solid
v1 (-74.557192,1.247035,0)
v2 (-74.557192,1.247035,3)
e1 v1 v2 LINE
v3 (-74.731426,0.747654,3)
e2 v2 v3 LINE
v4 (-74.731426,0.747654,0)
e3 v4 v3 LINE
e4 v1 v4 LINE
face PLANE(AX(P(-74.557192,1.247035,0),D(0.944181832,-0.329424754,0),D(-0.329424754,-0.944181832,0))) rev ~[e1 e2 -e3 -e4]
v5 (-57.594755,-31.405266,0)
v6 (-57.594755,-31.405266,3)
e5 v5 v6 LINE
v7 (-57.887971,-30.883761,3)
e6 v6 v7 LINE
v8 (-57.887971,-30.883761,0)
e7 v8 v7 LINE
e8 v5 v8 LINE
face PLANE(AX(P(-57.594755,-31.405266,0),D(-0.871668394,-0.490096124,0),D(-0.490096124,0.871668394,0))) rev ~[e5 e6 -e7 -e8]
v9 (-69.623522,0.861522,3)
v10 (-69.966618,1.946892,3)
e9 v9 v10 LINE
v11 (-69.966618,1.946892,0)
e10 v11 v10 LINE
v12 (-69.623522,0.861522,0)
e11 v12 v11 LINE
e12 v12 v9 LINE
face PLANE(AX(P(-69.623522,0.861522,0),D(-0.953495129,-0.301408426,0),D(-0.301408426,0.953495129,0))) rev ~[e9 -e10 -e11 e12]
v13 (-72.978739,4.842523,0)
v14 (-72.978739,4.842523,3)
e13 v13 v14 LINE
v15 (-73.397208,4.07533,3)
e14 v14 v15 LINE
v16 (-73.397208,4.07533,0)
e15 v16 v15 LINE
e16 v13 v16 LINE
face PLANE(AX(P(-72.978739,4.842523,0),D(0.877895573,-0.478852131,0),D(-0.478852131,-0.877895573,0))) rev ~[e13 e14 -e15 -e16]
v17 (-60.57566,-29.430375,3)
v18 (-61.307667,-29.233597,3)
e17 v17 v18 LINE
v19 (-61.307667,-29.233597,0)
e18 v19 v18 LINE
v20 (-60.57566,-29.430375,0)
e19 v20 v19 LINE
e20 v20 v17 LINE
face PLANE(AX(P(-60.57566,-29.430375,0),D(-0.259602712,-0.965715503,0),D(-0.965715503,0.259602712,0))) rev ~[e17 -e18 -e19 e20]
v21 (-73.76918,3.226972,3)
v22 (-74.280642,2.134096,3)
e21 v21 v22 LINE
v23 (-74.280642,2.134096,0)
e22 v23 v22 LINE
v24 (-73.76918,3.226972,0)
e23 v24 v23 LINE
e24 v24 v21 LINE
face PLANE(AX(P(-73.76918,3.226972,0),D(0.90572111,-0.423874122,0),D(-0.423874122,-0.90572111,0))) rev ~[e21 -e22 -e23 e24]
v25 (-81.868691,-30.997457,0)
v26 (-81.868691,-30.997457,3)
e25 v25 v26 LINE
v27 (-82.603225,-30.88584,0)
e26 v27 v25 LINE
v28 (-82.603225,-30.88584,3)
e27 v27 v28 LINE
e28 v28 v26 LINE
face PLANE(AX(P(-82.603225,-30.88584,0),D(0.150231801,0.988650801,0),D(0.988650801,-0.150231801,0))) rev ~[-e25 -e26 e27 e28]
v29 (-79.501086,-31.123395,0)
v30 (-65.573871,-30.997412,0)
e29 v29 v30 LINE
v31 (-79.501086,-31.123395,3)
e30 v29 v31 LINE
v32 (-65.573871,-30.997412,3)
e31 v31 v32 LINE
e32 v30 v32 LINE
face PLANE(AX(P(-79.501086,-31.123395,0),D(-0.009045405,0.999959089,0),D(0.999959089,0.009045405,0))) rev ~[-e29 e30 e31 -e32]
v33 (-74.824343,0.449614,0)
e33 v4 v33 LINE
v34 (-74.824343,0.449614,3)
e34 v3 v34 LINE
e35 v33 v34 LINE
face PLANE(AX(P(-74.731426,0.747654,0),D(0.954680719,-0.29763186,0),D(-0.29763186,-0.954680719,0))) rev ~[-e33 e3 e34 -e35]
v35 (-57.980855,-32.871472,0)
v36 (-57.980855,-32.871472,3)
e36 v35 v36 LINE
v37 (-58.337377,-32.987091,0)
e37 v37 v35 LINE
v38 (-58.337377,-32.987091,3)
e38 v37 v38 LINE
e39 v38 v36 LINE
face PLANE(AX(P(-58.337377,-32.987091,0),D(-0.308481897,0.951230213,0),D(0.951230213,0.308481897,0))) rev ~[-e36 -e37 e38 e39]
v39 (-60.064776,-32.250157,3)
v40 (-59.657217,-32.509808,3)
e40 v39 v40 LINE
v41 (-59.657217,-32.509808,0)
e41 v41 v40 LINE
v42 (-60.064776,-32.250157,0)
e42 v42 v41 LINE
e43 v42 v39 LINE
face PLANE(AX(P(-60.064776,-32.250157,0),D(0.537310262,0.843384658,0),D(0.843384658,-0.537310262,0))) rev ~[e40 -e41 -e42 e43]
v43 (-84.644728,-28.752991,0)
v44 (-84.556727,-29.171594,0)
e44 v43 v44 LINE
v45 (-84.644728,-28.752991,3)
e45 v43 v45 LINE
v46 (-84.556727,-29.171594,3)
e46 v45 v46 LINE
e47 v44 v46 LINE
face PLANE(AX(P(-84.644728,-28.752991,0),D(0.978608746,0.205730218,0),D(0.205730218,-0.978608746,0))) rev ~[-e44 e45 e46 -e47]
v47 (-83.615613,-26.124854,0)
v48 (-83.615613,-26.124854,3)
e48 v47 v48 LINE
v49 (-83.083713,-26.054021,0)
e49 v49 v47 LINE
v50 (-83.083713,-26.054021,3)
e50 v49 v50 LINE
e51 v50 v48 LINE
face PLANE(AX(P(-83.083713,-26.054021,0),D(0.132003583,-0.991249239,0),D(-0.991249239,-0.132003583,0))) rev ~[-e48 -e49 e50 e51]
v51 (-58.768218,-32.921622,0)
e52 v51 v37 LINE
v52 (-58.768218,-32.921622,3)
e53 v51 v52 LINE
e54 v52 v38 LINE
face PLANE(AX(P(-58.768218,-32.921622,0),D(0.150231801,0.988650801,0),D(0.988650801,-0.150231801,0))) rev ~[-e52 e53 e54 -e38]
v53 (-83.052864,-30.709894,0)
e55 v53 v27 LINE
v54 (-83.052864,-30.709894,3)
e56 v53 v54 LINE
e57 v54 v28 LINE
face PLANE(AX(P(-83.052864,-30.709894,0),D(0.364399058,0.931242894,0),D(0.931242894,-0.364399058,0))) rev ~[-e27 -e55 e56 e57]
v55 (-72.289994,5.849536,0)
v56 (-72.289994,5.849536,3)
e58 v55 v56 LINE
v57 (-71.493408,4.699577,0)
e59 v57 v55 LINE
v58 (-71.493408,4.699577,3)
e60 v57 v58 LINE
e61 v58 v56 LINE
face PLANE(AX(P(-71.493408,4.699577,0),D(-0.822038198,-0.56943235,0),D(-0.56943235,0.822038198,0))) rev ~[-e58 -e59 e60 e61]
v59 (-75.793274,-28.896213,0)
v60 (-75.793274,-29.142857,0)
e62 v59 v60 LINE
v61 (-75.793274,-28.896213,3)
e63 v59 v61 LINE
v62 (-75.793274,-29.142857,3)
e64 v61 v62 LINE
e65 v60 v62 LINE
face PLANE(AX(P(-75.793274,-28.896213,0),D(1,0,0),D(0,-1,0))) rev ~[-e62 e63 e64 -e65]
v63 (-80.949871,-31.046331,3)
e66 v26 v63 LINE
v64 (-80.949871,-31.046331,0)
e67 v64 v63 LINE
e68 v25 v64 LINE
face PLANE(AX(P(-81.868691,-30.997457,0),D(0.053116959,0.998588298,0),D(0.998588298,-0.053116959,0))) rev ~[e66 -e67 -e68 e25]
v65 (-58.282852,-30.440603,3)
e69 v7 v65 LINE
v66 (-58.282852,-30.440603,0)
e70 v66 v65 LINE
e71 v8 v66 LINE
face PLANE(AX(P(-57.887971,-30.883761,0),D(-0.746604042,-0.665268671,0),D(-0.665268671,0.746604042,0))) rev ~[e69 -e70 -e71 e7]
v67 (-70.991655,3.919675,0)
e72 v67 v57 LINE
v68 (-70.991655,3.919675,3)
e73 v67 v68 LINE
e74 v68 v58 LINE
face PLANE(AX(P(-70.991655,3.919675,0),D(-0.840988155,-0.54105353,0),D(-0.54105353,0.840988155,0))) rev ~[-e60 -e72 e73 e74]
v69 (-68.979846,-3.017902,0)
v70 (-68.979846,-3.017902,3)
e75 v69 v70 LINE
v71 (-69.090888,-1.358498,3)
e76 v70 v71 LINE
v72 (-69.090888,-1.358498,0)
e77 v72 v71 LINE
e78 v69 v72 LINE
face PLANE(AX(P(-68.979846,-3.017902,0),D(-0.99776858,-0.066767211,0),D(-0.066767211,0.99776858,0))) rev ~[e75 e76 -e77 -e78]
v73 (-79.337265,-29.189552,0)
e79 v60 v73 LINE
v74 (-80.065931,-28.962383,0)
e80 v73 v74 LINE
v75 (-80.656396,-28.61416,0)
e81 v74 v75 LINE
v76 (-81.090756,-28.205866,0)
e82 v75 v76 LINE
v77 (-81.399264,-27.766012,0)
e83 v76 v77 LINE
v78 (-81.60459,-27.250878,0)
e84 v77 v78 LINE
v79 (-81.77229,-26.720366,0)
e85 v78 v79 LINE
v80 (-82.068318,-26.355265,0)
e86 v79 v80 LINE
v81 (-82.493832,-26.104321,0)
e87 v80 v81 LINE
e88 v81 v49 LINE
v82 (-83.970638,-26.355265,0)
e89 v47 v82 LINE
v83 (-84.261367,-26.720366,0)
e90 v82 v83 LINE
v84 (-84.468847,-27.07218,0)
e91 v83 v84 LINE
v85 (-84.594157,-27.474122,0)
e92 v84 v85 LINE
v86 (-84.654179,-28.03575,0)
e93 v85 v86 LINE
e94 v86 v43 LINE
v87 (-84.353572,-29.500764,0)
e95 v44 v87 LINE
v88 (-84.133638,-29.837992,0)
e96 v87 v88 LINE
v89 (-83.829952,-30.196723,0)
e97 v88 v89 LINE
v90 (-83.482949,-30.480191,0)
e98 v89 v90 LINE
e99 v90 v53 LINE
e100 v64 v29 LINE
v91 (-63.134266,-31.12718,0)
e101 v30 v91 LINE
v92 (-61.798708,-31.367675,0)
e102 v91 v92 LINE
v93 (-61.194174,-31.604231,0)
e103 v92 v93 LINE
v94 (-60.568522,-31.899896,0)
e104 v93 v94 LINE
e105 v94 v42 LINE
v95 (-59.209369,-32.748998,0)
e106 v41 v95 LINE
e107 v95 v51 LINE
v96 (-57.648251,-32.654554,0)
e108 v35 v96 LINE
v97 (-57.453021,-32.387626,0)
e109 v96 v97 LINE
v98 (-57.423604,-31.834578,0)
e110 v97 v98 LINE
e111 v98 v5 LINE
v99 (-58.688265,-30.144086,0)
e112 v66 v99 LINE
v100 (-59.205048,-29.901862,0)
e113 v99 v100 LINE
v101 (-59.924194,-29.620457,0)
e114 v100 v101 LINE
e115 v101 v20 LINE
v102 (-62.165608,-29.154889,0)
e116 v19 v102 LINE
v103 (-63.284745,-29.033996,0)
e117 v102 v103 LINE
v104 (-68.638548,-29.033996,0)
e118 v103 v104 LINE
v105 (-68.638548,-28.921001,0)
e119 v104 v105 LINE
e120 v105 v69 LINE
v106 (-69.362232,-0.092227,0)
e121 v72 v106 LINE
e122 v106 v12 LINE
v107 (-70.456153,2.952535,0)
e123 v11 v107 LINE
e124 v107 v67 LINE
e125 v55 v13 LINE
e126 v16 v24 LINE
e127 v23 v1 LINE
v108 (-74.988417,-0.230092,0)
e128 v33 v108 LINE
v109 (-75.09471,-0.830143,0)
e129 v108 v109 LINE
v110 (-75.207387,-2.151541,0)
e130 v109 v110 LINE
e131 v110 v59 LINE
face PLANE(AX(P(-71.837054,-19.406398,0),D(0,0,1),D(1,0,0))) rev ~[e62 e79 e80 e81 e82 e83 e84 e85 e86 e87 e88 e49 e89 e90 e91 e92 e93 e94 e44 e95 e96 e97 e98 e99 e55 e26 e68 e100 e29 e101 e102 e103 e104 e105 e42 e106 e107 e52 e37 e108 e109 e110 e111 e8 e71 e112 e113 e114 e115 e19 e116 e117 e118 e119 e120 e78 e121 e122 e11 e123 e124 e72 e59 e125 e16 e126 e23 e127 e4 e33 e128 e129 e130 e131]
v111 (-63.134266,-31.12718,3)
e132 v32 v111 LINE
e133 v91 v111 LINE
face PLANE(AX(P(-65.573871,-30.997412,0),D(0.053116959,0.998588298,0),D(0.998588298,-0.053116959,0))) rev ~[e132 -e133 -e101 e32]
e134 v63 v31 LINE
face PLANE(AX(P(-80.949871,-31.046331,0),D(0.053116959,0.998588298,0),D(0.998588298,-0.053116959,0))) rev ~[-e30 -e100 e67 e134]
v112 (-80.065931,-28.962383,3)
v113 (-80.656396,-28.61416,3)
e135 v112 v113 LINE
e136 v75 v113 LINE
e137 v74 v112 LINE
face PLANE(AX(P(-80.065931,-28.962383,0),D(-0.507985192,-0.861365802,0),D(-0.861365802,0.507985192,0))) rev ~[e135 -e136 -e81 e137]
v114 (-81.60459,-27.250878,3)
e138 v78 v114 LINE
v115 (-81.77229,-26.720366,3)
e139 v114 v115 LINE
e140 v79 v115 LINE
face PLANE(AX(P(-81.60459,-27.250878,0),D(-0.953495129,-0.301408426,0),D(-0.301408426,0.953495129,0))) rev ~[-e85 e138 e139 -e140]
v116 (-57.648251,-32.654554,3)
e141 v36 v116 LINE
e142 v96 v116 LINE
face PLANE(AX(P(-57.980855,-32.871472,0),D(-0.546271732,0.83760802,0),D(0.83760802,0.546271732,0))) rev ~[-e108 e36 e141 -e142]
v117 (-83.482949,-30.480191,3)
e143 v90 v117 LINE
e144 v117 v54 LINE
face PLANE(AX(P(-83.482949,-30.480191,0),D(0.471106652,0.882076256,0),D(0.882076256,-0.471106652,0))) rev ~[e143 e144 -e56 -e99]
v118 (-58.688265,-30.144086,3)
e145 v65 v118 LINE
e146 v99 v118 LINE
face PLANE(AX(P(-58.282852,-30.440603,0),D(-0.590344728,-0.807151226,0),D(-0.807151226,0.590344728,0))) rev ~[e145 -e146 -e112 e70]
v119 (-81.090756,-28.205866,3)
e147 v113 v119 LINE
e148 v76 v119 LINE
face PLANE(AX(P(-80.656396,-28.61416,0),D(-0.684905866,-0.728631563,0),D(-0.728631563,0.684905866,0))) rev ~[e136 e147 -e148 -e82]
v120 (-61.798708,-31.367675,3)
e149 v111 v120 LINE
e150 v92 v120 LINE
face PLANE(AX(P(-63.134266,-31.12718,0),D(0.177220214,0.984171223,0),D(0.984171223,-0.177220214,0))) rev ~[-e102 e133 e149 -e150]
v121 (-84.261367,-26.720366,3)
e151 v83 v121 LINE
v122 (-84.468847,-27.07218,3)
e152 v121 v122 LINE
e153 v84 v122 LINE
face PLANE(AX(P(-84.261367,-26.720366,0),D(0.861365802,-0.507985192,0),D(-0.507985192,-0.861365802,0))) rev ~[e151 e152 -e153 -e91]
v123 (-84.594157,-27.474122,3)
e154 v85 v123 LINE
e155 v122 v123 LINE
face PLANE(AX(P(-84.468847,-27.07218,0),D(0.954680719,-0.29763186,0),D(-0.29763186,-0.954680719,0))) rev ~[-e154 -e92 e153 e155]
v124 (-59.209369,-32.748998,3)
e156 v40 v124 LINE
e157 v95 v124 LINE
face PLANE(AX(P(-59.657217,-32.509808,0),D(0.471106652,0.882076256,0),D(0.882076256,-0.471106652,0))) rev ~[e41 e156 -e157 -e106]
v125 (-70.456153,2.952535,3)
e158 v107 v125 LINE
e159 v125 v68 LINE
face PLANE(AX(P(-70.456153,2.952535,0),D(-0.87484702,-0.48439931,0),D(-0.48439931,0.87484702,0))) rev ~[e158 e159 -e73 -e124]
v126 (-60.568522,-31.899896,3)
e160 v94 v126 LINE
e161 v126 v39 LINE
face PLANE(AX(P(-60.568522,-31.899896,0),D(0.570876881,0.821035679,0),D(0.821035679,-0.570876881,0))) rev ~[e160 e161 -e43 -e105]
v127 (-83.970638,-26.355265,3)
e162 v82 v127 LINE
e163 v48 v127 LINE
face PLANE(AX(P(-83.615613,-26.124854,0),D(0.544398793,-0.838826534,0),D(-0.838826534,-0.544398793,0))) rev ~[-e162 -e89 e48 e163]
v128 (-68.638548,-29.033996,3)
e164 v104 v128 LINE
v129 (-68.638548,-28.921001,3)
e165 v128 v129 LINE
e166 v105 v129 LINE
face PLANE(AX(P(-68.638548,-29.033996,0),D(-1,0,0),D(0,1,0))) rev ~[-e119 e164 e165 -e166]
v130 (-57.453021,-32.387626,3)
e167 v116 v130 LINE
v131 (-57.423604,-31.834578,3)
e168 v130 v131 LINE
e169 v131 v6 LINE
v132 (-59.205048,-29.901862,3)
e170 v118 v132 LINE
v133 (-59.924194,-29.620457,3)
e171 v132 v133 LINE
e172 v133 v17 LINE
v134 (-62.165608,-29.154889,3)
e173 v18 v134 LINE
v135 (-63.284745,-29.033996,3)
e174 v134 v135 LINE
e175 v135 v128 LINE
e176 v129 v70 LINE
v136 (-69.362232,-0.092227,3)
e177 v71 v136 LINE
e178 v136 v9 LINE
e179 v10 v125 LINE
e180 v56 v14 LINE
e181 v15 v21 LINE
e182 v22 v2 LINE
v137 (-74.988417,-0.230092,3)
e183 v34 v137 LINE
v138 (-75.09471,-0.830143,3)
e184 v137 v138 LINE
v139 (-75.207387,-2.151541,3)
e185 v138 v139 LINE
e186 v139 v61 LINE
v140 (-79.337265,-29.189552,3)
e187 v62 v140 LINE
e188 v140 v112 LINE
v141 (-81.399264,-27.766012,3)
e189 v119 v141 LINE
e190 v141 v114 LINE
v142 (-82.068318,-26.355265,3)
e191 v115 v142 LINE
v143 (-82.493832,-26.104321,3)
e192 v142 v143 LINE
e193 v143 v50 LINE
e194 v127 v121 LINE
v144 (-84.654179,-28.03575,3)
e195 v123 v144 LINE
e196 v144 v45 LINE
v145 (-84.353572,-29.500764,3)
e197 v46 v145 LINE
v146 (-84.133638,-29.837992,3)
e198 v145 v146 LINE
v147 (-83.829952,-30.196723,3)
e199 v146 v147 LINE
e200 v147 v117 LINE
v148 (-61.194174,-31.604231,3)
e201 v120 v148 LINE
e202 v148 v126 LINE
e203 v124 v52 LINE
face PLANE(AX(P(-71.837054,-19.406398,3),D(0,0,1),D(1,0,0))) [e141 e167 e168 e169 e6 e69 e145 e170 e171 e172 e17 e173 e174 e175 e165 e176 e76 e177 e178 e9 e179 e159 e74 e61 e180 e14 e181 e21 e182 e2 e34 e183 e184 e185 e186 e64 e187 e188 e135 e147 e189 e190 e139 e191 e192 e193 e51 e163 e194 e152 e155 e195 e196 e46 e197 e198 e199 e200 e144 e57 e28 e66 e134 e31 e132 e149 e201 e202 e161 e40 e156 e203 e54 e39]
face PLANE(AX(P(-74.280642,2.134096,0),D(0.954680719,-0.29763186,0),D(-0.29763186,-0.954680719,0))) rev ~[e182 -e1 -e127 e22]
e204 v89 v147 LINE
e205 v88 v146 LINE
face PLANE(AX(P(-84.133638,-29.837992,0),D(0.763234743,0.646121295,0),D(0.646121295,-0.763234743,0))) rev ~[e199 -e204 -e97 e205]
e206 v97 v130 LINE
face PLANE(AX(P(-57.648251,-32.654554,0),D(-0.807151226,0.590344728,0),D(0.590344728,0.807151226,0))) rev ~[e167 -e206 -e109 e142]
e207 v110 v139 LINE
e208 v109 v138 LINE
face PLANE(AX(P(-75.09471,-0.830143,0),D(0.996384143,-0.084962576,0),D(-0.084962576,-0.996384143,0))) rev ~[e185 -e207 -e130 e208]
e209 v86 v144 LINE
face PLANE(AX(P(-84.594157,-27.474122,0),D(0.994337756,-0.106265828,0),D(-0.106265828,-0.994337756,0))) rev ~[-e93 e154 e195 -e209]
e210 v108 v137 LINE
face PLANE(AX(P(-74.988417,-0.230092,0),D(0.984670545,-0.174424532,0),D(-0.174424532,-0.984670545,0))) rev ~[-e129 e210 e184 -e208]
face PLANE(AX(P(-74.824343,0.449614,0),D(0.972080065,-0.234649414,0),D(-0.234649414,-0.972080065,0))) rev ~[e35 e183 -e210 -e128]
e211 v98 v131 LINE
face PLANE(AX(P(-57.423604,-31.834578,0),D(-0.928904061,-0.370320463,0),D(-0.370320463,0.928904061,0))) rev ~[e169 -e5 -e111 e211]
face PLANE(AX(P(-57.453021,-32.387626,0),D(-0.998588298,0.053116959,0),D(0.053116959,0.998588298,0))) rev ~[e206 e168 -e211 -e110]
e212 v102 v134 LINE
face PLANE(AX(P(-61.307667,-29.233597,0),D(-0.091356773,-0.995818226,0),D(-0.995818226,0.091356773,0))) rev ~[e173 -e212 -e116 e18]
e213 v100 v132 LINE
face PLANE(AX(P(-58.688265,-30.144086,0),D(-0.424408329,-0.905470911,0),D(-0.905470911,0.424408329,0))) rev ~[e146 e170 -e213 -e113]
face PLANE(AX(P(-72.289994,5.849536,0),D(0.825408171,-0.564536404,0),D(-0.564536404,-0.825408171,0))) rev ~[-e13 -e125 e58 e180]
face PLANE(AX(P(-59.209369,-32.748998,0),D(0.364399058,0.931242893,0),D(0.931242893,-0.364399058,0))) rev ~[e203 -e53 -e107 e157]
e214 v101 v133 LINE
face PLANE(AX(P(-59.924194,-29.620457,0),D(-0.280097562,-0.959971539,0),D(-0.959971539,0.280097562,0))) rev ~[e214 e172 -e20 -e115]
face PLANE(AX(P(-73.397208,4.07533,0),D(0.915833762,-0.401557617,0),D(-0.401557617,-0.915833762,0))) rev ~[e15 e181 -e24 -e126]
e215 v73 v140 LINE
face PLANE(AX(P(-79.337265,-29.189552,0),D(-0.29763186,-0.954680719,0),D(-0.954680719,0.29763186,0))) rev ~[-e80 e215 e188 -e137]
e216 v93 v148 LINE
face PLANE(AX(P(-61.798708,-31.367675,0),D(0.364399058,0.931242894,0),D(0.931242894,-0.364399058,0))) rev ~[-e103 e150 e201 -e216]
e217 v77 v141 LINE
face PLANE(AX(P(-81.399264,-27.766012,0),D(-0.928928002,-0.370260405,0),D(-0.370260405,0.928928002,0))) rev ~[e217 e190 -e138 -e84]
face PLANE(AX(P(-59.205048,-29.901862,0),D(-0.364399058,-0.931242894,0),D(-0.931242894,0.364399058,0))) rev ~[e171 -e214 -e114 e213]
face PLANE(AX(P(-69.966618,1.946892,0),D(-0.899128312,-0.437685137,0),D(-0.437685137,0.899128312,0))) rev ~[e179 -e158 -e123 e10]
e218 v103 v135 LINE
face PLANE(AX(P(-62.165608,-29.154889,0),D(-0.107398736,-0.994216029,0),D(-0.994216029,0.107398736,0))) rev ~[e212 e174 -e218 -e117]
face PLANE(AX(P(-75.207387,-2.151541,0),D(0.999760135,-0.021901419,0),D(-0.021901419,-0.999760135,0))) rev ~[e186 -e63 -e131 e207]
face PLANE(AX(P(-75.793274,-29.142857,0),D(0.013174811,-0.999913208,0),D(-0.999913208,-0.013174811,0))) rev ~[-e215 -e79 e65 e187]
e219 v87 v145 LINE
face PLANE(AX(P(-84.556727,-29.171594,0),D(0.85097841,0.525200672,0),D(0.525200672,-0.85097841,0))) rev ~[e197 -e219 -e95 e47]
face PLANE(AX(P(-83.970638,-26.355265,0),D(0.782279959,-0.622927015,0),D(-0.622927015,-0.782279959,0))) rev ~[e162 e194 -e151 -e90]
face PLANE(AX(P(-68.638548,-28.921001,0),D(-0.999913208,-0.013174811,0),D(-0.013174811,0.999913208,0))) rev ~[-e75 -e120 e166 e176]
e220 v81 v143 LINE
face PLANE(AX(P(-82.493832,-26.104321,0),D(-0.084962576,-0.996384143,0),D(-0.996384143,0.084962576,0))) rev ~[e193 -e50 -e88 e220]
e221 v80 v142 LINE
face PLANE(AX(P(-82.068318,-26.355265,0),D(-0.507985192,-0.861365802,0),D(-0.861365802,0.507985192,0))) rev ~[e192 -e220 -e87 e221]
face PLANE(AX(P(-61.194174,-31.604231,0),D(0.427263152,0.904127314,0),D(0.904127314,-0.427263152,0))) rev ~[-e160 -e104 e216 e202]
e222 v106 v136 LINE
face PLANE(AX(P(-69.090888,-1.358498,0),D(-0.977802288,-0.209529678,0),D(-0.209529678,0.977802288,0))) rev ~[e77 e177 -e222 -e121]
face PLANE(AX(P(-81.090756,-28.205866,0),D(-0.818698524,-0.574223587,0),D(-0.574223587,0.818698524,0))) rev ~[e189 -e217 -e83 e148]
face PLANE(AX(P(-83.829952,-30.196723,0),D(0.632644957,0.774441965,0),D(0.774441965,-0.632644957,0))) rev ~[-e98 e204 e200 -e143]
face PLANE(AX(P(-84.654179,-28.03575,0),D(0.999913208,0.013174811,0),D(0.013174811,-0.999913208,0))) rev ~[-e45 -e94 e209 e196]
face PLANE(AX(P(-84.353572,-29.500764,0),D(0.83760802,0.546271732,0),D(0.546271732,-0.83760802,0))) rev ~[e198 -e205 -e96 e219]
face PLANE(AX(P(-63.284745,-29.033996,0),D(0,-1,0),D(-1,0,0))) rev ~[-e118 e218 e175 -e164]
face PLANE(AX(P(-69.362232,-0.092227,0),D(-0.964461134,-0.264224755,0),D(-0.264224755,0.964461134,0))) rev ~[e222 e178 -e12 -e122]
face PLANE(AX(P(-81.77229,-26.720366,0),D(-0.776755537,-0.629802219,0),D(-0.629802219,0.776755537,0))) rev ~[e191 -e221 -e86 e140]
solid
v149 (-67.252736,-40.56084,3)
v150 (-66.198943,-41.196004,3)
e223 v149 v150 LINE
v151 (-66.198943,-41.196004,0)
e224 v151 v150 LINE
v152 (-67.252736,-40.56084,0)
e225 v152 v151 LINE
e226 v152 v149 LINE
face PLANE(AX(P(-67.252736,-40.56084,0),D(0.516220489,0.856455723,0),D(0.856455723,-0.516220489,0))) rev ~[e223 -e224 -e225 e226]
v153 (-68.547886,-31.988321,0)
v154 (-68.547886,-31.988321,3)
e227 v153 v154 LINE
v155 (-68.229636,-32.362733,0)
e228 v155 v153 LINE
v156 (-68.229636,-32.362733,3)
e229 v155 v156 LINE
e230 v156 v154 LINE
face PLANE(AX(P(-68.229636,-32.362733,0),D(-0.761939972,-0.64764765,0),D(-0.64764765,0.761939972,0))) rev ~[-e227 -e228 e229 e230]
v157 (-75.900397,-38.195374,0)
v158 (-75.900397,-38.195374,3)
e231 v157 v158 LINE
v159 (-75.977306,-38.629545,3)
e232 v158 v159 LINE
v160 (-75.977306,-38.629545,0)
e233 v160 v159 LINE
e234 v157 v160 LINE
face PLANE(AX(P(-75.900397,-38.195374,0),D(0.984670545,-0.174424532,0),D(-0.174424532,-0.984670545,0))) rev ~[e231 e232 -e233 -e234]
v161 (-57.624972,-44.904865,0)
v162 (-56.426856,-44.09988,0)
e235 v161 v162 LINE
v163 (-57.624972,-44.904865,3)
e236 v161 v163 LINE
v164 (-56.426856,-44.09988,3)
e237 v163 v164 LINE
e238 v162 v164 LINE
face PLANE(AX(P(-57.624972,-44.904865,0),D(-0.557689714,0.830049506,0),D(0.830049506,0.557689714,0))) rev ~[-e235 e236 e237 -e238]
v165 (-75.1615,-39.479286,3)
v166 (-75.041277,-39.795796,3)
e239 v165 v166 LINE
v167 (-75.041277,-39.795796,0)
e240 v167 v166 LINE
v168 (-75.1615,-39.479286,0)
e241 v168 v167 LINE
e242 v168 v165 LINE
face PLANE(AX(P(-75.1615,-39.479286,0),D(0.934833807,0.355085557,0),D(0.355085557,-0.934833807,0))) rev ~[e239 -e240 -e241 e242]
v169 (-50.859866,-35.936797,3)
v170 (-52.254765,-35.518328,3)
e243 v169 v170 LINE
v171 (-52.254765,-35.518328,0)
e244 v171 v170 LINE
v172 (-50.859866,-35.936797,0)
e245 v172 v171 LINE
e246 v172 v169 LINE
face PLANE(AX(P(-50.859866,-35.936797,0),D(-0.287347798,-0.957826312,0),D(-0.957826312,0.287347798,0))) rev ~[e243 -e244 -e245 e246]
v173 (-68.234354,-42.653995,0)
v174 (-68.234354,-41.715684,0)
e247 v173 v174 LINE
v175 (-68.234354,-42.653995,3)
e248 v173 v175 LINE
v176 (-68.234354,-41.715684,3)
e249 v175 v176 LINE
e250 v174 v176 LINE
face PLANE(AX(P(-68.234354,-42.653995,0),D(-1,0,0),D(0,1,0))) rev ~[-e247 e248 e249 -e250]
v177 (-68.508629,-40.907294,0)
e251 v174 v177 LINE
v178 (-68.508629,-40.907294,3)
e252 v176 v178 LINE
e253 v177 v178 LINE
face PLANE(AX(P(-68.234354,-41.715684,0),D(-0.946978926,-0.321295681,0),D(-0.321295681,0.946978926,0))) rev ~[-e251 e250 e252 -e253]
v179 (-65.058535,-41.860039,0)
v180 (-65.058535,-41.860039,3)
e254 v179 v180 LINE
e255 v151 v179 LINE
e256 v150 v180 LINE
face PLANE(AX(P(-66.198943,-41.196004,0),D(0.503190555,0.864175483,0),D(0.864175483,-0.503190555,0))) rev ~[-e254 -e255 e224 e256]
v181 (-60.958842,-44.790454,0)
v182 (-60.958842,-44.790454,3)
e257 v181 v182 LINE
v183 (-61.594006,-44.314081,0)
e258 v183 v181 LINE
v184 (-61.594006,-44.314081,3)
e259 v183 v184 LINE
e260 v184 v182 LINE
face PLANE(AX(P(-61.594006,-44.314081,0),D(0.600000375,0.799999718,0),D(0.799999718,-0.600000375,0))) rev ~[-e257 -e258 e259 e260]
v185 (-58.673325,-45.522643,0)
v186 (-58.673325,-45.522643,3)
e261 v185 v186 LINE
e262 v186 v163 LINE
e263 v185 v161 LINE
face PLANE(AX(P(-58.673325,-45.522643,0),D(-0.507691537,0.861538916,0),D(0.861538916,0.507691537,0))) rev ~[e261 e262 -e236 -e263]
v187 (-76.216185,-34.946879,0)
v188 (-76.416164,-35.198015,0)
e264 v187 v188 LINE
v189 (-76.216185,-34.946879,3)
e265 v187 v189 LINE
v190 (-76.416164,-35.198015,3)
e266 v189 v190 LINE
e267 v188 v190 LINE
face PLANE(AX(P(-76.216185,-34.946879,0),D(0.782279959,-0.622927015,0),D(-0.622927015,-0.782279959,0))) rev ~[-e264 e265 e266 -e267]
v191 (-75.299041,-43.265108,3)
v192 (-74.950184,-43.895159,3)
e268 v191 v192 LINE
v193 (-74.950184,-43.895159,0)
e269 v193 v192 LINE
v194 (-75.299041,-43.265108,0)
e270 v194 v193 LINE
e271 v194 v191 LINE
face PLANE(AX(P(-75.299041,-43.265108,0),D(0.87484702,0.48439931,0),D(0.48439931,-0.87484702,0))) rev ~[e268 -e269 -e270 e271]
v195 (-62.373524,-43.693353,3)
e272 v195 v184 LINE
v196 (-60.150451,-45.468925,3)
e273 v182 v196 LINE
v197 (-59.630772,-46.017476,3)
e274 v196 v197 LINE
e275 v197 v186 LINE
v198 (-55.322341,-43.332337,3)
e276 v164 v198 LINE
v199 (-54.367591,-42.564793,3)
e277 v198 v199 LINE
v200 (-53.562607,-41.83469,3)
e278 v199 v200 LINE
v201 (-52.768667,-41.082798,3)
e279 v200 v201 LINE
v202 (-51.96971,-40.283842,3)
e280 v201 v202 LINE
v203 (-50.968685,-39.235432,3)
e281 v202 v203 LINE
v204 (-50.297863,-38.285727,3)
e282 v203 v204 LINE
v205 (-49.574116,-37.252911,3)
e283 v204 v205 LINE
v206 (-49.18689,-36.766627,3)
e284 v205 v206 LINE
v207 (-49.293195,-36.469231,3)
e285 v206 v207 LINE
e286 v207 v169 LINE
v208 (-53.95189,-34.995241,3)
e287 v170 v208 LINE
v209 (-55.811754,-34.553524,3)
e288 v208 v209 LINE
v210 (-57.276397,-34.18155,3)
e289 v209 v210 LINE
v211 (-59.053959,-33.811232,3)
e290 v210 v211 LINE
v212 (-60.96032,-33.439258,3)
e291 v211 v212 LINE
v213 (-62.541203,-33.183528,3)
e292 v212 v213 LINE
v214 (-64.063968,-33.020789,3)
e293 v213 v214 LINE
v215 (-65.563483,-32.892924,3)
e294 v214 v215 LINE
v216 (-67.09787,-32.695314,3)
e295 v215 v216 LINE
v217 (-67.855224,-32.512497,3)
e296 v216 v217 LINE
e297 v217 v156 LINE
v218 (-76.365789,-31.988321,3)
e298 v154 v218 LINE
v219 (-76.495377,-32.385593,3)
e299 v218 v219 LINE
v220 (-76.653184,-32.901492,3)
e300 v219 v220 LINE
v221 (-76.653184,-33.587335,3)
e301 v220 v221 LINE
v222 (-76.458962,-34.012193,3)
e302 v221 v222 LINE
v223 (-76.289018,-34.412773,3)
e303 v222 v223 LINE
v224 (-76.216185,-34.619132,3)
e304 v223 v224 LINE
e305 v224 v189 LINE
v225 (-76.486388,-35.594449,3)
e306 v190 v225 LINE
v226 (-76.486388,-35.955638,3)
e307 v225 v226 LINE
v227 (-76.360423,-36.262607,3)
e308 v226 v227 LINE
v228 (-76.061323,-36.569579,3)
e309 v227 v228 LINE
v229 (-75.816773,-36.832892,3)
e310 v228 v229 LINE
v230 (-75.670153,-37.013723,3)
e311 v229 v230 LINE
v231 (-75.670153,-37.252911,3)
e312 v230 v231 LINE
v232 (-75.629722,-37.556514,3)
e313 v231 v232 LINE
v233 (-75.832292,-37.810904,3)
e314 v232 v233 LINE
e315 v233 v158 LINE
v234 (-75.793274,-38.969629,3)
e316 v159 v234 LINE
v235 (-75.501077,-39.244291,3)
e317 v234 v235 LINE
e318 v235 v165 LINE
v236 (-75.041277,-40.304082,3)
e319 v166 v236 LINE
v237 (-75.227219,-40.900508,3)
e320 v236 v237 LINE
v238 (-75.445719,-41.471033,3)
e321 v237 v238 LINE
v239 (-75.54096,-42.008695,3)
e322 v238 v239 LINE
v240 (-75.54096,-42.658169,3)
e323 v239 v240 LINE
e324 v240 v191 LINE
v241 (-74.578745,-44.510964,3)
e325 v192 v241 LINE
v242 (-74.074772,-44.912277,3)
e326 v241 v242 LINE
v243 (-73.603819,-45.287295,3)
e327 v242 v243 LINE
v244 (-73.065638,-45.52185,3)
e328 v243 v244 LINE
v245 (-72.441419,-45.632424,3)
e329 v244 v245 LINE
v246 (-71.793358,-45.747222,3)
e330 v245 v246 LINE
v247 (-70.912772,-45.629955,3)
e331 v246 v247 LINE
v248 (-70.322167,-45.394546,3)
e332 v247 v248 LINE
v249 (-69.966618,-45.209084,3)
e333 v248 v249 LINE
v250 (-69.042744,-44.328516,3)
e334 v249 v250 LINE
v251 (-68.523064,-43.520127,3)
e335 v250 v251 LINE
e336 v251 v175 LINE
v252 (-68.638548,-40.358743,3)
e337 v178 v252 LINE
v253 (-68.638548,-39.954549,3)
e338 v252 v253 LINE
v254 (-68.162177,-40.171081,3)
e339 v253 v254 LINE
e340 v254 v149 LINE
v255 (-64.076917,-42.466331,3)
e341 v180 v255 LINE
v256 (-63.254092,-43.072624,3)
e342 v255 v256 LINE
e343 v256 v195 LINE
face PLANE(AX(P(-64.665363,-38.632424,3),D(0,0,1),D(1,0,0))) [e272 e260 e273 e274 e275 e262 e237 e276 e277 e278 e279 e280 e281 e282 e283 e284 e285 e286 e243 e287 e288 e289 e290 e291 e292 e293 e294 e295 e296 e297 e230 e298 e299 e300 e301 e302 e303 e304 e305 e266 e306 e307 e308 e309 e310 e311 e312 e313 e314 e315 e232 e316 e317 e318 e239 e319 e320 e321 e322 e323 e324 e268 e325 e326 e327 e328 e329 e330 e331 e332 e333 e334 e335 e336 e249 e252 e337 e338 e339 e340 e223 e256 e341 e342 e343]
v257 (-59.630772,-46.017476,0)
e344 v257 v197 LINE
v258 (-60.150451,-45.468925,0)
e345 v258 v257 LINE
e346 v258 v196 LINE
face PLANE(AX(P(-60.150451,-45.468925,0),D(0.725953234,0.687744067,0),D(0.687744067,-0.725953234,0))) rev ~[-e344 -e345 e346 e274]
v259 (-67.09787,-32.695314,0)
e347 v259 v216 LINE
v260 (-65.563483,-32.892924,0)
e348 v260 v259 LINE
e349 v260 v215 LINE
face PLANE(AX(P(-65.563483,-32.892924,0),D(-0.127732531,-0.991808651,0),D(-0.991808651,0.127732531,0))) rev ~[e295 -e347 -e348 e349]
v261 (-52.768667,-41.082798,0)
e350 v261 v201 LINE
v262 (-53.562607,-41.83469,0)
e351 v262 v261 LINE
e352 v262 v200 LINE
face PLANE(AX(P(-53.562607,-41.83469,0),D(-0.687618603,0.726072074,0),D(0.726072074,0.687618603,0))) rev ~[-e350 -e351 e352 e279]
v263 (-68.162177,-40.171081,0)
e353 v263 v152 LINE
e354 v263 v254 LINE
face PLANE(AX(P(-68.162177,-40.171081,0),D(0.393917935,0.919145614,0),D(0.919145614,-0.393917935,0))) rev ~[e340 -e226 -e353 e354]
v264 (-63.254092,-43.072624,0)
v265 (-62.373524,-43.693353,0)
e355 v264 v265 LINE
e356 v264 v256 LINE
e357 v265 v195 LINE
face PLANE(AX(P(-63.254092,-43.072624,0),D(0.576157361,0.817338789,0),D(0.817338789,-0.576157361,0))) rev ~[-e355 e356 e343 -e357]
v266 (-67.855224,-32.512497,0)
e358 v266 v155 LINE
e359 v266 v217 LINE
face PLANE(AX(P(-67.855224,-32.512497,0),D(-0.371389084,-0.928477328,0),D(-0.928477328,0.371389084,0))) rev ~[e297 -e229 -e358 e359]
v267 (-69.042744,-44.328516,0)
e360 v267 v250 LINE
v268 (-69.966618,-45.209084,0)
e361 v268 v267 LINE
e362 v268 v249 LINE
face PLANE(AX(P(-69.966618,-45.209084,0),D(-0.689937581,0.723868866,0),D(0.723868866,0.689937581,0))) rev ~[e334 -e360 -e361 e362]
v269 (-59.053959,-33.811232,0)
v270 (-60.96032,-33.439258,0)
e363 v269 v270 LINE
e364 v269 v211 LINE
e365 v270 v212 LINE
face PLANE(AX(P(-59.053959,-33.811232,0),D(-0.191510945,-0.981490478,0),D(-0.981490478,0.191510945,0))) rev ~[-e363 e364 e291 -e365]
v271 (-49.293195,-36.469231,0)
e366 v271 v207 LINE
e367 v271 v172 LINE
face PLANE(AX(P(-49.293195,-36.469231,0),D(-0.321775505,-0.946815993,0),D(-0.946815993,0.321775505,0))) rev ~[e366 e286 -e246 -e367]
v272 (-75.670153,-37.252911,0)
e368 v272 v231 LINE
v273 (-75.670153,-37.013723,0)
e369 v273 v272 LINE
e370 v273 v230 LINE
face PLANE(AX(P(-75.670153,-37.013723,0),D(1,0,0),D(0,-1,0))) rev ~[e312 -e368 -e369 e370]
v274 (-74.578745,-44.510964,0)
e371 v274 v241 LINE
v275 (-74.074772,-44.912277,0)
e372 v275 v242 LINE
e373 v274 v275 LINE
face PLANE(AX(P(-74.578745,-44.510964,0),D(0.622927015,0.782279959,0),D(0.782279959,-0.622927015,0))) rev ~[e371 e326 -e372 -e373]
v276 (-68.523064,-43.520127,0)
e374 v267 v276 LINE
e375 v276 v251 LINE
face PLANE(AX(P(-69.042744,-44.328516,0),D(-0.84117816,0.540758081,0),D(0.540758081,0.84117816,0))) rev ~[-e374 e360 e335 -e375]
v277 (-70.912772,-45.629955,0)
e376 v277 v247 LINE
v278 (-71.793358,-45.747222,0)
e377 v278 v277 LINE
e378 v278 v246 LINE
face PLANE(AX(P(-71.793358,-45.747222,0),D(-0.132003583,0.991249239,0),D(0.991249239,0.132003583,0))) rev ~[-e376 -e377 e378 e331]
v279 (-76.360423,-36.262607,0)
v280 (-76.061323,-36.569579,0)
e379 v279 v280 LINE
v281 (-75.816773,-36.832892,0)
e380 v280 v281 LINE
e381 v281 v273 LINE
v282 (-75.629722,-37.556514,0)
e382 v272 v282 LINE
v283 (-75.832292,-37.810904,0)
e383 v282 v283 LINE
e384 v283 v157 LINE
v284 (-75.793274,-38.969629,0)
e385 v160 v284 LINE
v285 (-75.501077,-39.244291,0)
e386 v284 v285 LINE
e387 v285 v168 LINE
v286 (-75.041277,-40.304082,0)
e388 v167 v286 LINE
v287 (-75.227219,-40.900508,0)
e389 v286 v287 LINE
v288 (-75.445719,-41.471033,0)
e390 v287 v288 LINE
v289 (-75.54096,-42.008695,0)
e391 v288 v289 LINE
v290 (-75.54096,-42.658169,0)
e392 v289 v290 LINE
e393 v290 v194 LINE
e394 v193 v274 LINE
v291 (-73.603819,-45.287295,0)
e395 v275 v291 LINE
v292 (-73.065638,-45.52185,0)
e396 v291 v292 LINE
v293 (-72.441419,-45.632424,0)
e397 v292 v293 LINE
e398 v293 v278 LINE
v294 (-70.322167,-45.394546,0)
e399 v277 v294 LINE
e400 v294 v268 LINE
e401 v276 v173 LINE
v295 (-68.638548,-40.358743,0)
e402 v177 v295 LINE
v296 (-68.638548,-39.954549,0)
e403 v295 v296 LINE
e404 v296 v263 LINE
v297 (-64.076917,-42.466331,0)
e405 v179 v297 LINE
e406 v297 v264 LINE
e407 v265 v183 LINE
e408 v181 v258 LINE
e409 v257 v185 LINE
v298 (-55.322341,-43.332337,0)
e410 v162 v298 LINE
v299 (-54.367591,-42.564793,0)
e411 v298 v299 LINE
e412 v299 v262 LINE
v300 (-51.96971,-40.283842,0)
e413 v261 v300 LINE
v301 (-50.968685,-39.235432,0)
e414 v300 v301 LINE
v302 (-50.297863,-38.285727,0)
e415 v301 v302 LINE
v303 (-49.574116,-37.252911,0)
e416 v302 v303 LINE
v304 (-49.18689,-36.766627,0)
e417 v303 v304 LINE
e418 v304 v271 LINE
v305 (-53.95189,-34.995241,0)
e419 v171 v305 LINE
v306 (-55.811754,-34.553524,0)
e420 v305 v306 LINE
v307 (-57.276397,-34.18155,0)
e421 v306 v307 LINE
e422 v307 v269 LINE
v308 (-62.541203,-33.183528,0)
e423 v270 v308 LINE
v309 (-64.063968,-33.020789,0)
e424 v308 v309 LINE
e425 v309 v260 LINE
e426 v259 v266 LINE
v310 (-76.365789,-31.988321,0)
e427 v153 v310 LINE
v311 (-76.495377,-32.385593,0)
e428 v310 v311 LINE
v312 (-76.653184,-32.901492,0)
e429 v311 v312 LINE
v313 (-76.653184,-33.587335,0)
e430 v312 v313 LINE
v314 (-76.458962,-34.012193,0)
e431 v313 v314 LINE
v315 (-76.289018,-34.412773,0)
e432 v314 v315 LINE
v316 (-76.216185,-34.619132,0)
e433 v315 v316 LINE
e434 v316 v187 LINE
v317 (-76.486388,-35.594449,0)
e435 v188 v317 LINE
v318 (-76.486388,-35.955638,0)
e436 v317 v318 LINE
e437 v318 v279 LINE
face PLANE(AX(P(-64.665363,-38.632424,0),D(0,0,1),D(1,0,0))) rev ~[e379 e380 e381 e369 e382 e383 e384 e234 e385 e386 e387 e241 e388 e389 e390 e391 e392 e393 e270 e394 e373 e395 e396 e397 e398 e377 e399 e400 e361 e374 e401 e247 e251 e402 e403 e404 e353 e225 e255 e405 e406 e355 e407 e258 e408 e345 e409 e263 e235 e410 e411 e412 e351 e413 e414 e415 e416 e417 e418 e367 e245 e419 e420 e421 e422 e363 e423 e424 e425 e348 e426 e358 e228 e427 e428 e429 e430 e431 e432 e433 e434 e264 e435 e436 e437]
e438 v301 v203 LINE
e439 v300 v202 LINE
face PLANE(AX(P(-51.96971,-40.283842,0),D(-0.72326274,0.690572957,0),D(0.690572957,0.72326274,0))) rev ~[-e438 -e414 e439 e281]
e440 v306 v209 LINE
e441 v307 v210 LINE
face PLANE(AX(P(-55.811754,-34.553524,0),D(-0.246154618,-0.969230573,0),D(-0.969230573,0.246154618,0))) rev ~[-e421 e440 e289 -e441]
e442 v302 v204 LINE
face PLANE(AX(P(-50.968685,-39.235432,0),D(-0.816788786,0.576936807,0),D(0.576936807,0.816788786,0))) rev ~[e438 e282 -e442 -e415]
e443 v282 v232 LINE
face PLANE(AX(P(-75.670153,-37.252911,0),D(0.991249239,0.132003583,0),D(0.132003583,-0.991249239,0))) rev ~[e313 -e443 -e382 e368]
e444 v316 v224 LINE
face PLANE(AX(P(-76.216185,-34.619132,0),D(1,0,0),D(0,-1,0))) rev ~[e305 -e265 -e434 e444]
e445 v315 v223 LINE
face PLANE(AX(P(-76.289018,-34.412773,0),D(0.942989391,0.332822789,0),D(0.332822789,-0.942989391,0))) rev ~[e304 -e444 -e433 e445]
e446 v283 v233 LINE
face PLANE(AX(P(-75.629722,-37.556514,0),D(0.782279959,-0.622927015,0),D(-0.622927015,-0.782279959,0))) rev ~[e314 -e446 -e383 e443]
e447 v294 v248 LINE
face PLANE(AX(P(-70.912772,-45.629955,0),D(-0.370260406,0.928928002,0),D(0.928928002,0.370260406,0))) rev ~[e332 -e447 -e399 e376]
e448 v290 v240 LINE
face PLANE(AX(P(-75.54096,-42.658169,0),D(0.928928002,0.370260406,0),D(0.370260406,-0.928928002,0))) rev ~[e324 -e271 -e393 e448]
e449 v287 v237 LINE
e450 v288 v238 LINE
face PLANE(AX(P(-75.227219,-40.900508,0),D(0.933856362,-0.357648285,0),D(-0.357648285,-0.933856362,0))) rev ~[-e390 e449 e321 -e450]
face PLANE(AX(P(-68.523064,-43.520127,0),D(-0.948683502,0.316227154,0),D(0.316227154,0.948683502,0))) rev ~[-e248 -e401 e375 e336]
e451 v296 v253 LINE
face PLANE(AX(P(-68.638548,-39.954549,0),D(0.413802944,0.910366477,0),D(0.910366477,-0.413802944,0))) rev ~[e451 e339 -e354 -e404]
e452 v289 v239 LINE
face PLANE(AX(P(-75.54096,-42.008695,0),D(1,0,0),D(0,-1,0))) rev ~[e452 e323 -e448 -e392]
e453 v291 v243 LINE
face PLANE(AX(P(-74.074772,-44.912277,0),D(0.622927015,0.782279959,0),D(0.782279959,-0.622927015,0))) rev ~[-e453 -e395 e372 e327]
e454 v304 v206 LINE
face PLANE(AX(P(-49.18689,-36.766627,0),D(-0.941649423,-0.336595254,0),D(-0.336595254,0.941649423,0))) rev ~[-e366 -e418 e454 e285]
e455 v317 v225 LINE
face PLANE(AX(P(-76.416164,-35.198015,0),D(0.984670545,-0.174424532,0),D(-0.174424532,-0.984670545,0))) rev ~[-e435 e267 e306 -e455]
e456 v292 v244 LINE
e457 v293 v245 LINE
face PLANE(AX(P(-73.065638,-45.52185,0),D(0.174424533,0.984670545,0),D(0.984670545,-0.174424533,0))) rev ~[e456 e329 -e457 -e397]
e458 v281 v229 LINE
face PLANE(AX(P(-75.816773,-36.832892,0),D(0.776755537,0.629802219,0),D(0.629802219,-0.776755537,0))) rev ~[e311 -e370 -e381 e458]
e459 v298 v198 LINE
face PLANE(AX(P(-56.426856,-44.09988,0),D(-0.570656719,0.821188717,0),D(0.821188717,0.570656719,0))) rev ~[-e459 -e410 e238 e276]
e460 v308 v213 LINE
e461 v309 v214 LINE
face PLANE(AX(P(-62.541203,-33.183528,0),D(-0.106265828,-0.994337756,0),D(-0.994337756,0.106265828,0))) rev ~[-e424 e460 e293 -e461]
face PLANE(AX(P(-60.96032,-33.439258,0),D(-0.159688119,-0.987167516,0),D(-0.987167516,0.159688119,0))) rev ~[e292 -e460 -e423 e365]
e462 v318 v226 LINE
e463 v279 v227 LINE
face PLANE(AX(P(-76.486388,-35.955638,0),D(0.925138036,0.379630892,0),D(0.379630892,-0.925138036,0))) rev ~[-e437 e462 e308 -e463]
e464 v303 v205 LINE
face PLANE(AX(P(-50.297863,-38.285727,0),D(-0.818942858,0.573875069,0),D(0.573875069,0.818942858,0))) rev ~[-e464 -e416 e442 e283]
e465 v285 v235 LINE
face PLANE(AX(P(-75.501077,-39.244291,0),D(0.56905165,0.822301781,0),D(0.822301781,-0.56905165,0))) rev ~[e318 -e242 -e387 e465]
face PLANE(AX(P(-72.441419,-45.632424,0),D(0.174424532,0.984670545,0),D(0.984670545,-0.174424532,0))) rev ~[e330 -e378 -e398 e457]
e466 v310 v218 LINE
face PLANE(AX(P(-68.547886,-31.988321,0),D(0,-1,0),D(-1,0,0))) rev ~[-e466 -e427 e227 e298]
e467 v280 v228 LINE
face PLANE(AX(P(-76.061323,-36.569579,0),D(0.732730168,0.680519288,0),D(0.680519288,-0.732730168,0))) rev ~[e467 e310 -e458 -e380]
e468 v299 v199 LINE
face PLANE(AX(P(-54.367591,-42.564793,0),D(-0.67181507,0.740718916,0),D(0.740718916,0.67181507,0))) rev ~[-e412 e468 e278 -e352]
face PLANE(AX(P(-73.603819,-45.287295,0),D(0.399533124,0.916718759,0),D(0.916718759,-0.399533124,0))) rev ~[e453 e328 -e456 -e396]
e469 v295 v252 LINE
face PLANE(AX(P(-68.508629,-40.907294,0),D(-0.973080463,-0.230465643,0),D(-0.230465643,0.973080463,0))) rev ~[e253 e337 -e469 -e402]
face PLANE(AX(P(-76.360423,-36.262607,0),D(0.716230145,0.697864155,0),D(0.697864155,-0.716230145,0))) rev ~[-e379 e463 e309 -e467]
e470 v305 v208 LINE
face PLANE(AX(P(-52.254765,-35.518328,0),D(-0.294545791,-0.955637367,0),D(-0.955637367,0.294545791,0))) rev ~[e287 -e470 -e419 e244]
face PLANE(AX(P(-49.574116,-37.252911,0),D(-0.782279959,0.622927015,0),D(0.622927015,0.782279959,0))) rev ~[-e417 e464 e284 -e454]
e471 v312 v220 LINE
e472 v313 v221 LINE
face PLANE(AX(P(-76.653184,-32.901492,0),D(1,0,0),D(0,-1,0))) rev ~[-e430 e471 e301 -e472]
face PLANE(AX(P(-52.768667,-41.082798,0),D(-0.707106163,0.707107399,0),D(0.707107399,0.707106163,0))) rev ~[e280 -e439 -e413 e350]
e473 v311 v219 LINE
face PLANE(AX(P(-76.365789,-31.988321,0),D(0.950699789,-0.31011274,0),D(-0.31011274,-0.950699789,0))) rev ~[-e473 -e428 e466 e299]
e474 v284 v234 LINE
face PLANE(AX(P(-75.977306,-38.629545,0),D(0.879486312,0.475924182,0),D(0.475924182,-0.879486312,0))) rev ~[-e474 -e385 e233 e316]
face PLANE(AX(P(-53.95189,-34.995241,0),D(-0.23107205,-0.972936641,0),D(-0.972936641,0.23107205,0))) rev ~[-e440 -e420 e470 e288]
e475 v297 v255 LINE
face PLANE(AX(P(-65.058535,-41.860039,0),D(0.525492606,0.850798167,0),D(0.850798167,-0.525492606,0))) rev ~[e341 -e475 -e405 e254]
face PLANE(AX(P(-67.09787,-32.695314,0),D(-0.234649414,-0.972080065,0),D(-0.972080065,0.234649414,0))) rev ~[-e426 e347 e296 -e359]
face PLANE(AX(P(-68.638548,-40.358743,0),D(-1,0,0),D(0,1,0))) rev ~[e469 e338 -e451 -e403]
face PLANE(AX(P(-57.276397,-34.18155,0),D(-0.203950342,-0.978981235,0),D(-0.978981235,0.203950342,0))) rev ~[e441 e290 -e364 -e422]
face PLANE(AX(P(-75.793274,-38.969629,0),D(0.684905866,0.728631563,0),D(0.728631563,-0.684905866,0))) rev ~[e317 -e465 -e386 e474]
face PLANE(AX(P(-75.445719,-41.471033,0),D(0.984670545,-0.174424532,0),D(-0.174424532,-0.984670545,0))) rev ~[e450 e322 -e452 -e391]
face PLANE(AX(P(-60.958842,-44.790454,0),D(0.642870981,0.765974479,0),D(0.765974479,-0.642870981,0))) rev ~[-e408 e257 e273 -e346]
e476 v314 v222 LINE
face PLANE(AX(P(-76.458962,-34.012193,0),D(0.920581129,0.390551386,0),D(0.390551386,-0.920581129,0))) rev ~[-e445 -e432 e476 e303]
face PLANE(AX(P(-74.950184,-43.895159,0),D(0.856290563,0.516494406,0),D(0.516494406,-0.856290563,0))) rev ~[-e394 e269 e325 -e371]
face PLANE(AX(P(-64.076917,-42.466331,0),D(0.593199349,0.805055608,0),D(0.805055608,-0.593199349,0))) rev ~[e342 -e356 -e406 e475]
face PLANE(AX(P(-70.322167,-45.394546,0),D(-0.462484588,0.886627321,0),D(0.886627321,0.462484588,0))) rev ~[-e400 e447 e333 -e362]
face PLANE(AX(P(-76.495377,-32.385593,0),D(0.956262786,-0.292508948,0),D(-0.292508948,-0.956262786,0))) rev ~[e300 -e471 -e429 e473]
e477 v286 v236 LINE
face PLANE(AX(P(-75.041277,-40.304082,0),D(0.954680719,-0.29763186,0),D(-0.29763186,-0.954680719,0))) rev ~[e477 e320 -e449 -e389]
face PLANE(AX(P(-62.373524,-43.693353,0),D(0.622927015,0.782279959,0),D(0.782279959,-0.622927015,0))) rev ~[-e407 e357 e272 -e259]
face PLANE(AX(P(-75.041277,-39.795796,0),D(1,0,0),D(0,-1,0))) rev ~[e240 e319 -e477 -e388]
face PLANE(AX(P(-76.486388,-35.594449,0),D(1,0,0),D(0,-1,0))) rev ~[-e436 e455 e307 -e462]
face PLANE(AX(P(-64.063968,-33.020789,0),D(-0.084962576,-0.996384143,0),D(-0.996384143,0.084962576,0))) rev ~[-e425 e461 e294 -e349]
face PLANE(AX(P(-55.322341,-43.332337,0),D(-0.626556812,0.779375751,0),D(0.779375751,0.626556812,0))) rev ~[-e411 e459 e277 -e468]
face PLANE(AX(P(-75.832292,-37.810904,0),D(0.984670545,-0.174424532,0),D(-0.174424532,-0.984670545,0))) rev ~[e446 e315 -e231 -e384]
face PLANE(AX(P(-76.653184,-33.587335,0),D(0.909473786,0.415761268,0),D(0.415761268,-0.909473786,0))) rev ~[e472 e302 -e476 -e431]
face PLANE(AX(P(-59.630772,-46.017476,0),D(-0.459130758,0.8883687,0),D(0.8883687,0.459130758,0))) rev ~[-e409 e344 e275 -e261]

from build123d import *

# Parameters (mm, degrees)
F1_DEPTH = 3


with BuildPart() as f1:
    # F0 (on Top) → F1 (new body)
    with BuildSketch(Plane.XY):
        Polygon((-70.3221669325, -45.3945461759), (-69.9666177976, -45.2090838162), (-69.0427439409, -44.3285164592), (-68.5230640816, -43.5201266018), (-68.2343540835, -42.6539947448), (-68.2343540835, -41.7156835256), (-68.5086285817, -40.9072936682), (-68.6385480809, -40.3587428091), (-68.6385480809, -39.9545488117), (-68.162176584, -40.1710813103), (-67.2527363646, -40.5608398078), (-66.1989430087, -41.1960036663), (-65.0585347908, -41.8600385246), (-64.0769170719, -42.4663313834), (-63.2540917146, -43.0726242421), (-62.3735243576, -43.6933526007), (-61.5940055, -44.3140809593), (-60.9588416415, -44.7904543189), (-60.1504508528, -45.4689246772), (-59.6307719248, -46.0174755362), (-58.6733248207, -45.5226433633), (-57.6249722513, -44.9048654345), (-56.4268555614, -44.0998804925), (-55.3223414468, -43.3323365805), (-54.3675914529, -42.5647926686), (-53.5626065108, -41.8346897868), (-52.7686665888, -41.0827976821), (-51.9697096321, -40.2838421223), (-50.9686850133, -39.235431811), (-50.2978631417, -38.2857267914), (-49.5741160708, -37.2529105453), (-49.186890002, -36.7666269421), (-49.293195189, -36.4692305384), (-50.8598664897, -35.9367971478), (-52.2547646547, -35.518327838), (-53.9518900337, -34.9952412007), (-55.8117542538, -34.5535242168), (-57.2763968381, -34.1815502552), (-59.0539591509, -33.8112321851), (-60.9603196504, -33.4392582236), (-62.5412033993, -33.1835282204), (-64.0639679628, -33.0207889137), (-65.5634829896, -32.8929239122), (-67.0978704589, -32.6953140257), (-67.8552238392, -32.5124972669), (-68.2296360033, -32.3627331463), (-68.5478856909, -31.9883209822), (-76.3657892245, -31.9883209822), (-76.4953771728, -32.3855933902), (-76.6531841951, -32.9014920799), (-76.6531841951, -33.2231708971), (-76.6531841951, -33.5873347876), (-76.4589624601, -34.0121929703), (-76.289018442, -34.4127734361), (-76.2161852914, -34.6191321669), (-76.2161852914, -34.9468794821), (-76.4161638427, -35.1980151837), (-76.4863880473, -35.5944485573), (-76.4863880473, -35.9556378035), (-76.3604229438, -36.262607312), (-76.061323111, -36.5695786832), (-75.8167727041, -36.8328915147), (-75.6701527285, -37.0137226937), (-75.6701527285, -37.2529105453), (-75.6297221529, -37.556514254), (-75.8322919717, -37.8109041035), (-75.9003969331, -38.1953738139), (-75.9773060156, -38.629545012), (-75.7932735729, -38.9696286229), (-75.501076703, -39.2442905513), (-75.1614997285, -39.4792855886), (-75.04127716, -39.7957955656), (-75.04127716, -40.3040816245), (-75.2272194373, -40.9005080519), (-75.4457188892, -41.4710325358), (-75.5409604083, -42.0086949691), (-75.5409604083, -42.6581689326), (-75.2990411716, -43.2651081292), (-74.950184499, -43.8951590268), (-74.5787451165, -44.5109644143), (-74.074771553, -44.9122769417), (-73.6038192508, -45.2872947449), (-73.0656383681, -45.5218498764), (-72.4414193923, -45.6324240208), (-71.7933583319, -45.7472215517), (-70.9127720683, -45.629954837), align=None)
    extrude(amount=F1_DEPTH)


with BuildPart() as f1b:
    # F0 (on Top) → F1, piece 2 (new body)
    with BuildSketch(Plane.XY):
        Polygon((-68.6385480809, -29.0339962748), (-68.6385480809, -28.9210007695), (-68.9798461395, -3.0179024843), (-69.0908877301, -1.3584979979), (-69.3622322875, -0.092227122), (-69.6235222864, 0.8615217002), (-69.9666177976, 1.9468924793), (-70.4561526078, 2.9525345953), (-70.9916546341, 3.9196754266), (-71.4934075373, 4.699576536), (-72.2899938124, 5.8495363983), (-72.9787385213, 4.8425233754), (-73.3972078311, 4.0753296407), (-73.76917993, 3.2269716652), (-74.2806417989, 2.1340957674), (-74.5571923665, 1.247035173), (-74.7314261394, 0.747654477), (-74.8243433417, 0.4496142691), (-74.9884169779, -0.2300921423), (-75.0947099098, -0.8301425922), (-75.2073867861, -2.1515414667), (-75.7932735729, -28.8962126879), (-75.7932735729, -29.142856708), (-79.3372653278, -29.189552184), (-80.0659310153, -28.962382912), (-80.656396051, -28.6141597835), (-81.0907560912, -28.2058659974), (-81.39926364, -27.7660117654), (-81.6045903549, -27.250877735), (-81.7722898013, -26.7203663386), (-82.0683183591, -26.3552647013), (-82.4938319246, -26.1043206894), (-83.0837128021, -26.0540210138), (-83.6156132866, -26.1248536227), (-83.9706378179, -26.3552647013), (-84.2613670771, -26.7203663386), (-84.4688471677, -27.0721802448), (-84.5941569043, -27.4741223939), (-84.6541785429, -28.0357496132), (-84.6447282005, -28.7529911612), (-84.5567265647, -29.1715935973), (-84.3535715836, -29.5007639734), (-84.1336378949, -29.8379921524), (-83.8299522298, -30.1967227069), (-83.4829488891, -30.4801912216), (-83.0528641241, -30.7098944841), (-82.6032253104, -30.8858399449), (-81.8686911958, -30.9974570928), (-80.9498706954, -31.0463310389), (-79.5010863898, -31.1233948462), (-65.5738709616, -30.9974123893), (-63.1342664121, -31.1271799567), (-61.7987083393, -31.36767458), (-61.1941737423, -31.6042313785), (-60.5685215565, -31.8998956291), (-60.0647756952, -32.2501567362), (-59.6572168293, -32.5098076073), (-59.2093689733, -32.7489979297), (-58.7682183797, -32.9216219162), (-58.337376614, -32.9870910729), (-57.9808548215, -32.871471828), (-57.6482507595, -32.6545538989), (-57.453021233, -32.3876255361), (-57.4236035102, -31.8345781761), (-57.5947545591, -31.4052664844), (-57.8879712271, -30.8837612329), (-58.2828519988, -30.4406025616), (-58.6882650965, -30.1440862744), (-59.2050476121, -29.9018622545), (-59.9241939167, -29.6204574379), (-60.575660144, -29.4303746132), (-61.3076666492, -29.233597329), (-62.1656084555, -29.1548893956), (-63.2847452658, -29.0339962748), align=None)
    extrude(amount=F1_DEPTH)


solid = Compound([f1.part, f1b.part])
